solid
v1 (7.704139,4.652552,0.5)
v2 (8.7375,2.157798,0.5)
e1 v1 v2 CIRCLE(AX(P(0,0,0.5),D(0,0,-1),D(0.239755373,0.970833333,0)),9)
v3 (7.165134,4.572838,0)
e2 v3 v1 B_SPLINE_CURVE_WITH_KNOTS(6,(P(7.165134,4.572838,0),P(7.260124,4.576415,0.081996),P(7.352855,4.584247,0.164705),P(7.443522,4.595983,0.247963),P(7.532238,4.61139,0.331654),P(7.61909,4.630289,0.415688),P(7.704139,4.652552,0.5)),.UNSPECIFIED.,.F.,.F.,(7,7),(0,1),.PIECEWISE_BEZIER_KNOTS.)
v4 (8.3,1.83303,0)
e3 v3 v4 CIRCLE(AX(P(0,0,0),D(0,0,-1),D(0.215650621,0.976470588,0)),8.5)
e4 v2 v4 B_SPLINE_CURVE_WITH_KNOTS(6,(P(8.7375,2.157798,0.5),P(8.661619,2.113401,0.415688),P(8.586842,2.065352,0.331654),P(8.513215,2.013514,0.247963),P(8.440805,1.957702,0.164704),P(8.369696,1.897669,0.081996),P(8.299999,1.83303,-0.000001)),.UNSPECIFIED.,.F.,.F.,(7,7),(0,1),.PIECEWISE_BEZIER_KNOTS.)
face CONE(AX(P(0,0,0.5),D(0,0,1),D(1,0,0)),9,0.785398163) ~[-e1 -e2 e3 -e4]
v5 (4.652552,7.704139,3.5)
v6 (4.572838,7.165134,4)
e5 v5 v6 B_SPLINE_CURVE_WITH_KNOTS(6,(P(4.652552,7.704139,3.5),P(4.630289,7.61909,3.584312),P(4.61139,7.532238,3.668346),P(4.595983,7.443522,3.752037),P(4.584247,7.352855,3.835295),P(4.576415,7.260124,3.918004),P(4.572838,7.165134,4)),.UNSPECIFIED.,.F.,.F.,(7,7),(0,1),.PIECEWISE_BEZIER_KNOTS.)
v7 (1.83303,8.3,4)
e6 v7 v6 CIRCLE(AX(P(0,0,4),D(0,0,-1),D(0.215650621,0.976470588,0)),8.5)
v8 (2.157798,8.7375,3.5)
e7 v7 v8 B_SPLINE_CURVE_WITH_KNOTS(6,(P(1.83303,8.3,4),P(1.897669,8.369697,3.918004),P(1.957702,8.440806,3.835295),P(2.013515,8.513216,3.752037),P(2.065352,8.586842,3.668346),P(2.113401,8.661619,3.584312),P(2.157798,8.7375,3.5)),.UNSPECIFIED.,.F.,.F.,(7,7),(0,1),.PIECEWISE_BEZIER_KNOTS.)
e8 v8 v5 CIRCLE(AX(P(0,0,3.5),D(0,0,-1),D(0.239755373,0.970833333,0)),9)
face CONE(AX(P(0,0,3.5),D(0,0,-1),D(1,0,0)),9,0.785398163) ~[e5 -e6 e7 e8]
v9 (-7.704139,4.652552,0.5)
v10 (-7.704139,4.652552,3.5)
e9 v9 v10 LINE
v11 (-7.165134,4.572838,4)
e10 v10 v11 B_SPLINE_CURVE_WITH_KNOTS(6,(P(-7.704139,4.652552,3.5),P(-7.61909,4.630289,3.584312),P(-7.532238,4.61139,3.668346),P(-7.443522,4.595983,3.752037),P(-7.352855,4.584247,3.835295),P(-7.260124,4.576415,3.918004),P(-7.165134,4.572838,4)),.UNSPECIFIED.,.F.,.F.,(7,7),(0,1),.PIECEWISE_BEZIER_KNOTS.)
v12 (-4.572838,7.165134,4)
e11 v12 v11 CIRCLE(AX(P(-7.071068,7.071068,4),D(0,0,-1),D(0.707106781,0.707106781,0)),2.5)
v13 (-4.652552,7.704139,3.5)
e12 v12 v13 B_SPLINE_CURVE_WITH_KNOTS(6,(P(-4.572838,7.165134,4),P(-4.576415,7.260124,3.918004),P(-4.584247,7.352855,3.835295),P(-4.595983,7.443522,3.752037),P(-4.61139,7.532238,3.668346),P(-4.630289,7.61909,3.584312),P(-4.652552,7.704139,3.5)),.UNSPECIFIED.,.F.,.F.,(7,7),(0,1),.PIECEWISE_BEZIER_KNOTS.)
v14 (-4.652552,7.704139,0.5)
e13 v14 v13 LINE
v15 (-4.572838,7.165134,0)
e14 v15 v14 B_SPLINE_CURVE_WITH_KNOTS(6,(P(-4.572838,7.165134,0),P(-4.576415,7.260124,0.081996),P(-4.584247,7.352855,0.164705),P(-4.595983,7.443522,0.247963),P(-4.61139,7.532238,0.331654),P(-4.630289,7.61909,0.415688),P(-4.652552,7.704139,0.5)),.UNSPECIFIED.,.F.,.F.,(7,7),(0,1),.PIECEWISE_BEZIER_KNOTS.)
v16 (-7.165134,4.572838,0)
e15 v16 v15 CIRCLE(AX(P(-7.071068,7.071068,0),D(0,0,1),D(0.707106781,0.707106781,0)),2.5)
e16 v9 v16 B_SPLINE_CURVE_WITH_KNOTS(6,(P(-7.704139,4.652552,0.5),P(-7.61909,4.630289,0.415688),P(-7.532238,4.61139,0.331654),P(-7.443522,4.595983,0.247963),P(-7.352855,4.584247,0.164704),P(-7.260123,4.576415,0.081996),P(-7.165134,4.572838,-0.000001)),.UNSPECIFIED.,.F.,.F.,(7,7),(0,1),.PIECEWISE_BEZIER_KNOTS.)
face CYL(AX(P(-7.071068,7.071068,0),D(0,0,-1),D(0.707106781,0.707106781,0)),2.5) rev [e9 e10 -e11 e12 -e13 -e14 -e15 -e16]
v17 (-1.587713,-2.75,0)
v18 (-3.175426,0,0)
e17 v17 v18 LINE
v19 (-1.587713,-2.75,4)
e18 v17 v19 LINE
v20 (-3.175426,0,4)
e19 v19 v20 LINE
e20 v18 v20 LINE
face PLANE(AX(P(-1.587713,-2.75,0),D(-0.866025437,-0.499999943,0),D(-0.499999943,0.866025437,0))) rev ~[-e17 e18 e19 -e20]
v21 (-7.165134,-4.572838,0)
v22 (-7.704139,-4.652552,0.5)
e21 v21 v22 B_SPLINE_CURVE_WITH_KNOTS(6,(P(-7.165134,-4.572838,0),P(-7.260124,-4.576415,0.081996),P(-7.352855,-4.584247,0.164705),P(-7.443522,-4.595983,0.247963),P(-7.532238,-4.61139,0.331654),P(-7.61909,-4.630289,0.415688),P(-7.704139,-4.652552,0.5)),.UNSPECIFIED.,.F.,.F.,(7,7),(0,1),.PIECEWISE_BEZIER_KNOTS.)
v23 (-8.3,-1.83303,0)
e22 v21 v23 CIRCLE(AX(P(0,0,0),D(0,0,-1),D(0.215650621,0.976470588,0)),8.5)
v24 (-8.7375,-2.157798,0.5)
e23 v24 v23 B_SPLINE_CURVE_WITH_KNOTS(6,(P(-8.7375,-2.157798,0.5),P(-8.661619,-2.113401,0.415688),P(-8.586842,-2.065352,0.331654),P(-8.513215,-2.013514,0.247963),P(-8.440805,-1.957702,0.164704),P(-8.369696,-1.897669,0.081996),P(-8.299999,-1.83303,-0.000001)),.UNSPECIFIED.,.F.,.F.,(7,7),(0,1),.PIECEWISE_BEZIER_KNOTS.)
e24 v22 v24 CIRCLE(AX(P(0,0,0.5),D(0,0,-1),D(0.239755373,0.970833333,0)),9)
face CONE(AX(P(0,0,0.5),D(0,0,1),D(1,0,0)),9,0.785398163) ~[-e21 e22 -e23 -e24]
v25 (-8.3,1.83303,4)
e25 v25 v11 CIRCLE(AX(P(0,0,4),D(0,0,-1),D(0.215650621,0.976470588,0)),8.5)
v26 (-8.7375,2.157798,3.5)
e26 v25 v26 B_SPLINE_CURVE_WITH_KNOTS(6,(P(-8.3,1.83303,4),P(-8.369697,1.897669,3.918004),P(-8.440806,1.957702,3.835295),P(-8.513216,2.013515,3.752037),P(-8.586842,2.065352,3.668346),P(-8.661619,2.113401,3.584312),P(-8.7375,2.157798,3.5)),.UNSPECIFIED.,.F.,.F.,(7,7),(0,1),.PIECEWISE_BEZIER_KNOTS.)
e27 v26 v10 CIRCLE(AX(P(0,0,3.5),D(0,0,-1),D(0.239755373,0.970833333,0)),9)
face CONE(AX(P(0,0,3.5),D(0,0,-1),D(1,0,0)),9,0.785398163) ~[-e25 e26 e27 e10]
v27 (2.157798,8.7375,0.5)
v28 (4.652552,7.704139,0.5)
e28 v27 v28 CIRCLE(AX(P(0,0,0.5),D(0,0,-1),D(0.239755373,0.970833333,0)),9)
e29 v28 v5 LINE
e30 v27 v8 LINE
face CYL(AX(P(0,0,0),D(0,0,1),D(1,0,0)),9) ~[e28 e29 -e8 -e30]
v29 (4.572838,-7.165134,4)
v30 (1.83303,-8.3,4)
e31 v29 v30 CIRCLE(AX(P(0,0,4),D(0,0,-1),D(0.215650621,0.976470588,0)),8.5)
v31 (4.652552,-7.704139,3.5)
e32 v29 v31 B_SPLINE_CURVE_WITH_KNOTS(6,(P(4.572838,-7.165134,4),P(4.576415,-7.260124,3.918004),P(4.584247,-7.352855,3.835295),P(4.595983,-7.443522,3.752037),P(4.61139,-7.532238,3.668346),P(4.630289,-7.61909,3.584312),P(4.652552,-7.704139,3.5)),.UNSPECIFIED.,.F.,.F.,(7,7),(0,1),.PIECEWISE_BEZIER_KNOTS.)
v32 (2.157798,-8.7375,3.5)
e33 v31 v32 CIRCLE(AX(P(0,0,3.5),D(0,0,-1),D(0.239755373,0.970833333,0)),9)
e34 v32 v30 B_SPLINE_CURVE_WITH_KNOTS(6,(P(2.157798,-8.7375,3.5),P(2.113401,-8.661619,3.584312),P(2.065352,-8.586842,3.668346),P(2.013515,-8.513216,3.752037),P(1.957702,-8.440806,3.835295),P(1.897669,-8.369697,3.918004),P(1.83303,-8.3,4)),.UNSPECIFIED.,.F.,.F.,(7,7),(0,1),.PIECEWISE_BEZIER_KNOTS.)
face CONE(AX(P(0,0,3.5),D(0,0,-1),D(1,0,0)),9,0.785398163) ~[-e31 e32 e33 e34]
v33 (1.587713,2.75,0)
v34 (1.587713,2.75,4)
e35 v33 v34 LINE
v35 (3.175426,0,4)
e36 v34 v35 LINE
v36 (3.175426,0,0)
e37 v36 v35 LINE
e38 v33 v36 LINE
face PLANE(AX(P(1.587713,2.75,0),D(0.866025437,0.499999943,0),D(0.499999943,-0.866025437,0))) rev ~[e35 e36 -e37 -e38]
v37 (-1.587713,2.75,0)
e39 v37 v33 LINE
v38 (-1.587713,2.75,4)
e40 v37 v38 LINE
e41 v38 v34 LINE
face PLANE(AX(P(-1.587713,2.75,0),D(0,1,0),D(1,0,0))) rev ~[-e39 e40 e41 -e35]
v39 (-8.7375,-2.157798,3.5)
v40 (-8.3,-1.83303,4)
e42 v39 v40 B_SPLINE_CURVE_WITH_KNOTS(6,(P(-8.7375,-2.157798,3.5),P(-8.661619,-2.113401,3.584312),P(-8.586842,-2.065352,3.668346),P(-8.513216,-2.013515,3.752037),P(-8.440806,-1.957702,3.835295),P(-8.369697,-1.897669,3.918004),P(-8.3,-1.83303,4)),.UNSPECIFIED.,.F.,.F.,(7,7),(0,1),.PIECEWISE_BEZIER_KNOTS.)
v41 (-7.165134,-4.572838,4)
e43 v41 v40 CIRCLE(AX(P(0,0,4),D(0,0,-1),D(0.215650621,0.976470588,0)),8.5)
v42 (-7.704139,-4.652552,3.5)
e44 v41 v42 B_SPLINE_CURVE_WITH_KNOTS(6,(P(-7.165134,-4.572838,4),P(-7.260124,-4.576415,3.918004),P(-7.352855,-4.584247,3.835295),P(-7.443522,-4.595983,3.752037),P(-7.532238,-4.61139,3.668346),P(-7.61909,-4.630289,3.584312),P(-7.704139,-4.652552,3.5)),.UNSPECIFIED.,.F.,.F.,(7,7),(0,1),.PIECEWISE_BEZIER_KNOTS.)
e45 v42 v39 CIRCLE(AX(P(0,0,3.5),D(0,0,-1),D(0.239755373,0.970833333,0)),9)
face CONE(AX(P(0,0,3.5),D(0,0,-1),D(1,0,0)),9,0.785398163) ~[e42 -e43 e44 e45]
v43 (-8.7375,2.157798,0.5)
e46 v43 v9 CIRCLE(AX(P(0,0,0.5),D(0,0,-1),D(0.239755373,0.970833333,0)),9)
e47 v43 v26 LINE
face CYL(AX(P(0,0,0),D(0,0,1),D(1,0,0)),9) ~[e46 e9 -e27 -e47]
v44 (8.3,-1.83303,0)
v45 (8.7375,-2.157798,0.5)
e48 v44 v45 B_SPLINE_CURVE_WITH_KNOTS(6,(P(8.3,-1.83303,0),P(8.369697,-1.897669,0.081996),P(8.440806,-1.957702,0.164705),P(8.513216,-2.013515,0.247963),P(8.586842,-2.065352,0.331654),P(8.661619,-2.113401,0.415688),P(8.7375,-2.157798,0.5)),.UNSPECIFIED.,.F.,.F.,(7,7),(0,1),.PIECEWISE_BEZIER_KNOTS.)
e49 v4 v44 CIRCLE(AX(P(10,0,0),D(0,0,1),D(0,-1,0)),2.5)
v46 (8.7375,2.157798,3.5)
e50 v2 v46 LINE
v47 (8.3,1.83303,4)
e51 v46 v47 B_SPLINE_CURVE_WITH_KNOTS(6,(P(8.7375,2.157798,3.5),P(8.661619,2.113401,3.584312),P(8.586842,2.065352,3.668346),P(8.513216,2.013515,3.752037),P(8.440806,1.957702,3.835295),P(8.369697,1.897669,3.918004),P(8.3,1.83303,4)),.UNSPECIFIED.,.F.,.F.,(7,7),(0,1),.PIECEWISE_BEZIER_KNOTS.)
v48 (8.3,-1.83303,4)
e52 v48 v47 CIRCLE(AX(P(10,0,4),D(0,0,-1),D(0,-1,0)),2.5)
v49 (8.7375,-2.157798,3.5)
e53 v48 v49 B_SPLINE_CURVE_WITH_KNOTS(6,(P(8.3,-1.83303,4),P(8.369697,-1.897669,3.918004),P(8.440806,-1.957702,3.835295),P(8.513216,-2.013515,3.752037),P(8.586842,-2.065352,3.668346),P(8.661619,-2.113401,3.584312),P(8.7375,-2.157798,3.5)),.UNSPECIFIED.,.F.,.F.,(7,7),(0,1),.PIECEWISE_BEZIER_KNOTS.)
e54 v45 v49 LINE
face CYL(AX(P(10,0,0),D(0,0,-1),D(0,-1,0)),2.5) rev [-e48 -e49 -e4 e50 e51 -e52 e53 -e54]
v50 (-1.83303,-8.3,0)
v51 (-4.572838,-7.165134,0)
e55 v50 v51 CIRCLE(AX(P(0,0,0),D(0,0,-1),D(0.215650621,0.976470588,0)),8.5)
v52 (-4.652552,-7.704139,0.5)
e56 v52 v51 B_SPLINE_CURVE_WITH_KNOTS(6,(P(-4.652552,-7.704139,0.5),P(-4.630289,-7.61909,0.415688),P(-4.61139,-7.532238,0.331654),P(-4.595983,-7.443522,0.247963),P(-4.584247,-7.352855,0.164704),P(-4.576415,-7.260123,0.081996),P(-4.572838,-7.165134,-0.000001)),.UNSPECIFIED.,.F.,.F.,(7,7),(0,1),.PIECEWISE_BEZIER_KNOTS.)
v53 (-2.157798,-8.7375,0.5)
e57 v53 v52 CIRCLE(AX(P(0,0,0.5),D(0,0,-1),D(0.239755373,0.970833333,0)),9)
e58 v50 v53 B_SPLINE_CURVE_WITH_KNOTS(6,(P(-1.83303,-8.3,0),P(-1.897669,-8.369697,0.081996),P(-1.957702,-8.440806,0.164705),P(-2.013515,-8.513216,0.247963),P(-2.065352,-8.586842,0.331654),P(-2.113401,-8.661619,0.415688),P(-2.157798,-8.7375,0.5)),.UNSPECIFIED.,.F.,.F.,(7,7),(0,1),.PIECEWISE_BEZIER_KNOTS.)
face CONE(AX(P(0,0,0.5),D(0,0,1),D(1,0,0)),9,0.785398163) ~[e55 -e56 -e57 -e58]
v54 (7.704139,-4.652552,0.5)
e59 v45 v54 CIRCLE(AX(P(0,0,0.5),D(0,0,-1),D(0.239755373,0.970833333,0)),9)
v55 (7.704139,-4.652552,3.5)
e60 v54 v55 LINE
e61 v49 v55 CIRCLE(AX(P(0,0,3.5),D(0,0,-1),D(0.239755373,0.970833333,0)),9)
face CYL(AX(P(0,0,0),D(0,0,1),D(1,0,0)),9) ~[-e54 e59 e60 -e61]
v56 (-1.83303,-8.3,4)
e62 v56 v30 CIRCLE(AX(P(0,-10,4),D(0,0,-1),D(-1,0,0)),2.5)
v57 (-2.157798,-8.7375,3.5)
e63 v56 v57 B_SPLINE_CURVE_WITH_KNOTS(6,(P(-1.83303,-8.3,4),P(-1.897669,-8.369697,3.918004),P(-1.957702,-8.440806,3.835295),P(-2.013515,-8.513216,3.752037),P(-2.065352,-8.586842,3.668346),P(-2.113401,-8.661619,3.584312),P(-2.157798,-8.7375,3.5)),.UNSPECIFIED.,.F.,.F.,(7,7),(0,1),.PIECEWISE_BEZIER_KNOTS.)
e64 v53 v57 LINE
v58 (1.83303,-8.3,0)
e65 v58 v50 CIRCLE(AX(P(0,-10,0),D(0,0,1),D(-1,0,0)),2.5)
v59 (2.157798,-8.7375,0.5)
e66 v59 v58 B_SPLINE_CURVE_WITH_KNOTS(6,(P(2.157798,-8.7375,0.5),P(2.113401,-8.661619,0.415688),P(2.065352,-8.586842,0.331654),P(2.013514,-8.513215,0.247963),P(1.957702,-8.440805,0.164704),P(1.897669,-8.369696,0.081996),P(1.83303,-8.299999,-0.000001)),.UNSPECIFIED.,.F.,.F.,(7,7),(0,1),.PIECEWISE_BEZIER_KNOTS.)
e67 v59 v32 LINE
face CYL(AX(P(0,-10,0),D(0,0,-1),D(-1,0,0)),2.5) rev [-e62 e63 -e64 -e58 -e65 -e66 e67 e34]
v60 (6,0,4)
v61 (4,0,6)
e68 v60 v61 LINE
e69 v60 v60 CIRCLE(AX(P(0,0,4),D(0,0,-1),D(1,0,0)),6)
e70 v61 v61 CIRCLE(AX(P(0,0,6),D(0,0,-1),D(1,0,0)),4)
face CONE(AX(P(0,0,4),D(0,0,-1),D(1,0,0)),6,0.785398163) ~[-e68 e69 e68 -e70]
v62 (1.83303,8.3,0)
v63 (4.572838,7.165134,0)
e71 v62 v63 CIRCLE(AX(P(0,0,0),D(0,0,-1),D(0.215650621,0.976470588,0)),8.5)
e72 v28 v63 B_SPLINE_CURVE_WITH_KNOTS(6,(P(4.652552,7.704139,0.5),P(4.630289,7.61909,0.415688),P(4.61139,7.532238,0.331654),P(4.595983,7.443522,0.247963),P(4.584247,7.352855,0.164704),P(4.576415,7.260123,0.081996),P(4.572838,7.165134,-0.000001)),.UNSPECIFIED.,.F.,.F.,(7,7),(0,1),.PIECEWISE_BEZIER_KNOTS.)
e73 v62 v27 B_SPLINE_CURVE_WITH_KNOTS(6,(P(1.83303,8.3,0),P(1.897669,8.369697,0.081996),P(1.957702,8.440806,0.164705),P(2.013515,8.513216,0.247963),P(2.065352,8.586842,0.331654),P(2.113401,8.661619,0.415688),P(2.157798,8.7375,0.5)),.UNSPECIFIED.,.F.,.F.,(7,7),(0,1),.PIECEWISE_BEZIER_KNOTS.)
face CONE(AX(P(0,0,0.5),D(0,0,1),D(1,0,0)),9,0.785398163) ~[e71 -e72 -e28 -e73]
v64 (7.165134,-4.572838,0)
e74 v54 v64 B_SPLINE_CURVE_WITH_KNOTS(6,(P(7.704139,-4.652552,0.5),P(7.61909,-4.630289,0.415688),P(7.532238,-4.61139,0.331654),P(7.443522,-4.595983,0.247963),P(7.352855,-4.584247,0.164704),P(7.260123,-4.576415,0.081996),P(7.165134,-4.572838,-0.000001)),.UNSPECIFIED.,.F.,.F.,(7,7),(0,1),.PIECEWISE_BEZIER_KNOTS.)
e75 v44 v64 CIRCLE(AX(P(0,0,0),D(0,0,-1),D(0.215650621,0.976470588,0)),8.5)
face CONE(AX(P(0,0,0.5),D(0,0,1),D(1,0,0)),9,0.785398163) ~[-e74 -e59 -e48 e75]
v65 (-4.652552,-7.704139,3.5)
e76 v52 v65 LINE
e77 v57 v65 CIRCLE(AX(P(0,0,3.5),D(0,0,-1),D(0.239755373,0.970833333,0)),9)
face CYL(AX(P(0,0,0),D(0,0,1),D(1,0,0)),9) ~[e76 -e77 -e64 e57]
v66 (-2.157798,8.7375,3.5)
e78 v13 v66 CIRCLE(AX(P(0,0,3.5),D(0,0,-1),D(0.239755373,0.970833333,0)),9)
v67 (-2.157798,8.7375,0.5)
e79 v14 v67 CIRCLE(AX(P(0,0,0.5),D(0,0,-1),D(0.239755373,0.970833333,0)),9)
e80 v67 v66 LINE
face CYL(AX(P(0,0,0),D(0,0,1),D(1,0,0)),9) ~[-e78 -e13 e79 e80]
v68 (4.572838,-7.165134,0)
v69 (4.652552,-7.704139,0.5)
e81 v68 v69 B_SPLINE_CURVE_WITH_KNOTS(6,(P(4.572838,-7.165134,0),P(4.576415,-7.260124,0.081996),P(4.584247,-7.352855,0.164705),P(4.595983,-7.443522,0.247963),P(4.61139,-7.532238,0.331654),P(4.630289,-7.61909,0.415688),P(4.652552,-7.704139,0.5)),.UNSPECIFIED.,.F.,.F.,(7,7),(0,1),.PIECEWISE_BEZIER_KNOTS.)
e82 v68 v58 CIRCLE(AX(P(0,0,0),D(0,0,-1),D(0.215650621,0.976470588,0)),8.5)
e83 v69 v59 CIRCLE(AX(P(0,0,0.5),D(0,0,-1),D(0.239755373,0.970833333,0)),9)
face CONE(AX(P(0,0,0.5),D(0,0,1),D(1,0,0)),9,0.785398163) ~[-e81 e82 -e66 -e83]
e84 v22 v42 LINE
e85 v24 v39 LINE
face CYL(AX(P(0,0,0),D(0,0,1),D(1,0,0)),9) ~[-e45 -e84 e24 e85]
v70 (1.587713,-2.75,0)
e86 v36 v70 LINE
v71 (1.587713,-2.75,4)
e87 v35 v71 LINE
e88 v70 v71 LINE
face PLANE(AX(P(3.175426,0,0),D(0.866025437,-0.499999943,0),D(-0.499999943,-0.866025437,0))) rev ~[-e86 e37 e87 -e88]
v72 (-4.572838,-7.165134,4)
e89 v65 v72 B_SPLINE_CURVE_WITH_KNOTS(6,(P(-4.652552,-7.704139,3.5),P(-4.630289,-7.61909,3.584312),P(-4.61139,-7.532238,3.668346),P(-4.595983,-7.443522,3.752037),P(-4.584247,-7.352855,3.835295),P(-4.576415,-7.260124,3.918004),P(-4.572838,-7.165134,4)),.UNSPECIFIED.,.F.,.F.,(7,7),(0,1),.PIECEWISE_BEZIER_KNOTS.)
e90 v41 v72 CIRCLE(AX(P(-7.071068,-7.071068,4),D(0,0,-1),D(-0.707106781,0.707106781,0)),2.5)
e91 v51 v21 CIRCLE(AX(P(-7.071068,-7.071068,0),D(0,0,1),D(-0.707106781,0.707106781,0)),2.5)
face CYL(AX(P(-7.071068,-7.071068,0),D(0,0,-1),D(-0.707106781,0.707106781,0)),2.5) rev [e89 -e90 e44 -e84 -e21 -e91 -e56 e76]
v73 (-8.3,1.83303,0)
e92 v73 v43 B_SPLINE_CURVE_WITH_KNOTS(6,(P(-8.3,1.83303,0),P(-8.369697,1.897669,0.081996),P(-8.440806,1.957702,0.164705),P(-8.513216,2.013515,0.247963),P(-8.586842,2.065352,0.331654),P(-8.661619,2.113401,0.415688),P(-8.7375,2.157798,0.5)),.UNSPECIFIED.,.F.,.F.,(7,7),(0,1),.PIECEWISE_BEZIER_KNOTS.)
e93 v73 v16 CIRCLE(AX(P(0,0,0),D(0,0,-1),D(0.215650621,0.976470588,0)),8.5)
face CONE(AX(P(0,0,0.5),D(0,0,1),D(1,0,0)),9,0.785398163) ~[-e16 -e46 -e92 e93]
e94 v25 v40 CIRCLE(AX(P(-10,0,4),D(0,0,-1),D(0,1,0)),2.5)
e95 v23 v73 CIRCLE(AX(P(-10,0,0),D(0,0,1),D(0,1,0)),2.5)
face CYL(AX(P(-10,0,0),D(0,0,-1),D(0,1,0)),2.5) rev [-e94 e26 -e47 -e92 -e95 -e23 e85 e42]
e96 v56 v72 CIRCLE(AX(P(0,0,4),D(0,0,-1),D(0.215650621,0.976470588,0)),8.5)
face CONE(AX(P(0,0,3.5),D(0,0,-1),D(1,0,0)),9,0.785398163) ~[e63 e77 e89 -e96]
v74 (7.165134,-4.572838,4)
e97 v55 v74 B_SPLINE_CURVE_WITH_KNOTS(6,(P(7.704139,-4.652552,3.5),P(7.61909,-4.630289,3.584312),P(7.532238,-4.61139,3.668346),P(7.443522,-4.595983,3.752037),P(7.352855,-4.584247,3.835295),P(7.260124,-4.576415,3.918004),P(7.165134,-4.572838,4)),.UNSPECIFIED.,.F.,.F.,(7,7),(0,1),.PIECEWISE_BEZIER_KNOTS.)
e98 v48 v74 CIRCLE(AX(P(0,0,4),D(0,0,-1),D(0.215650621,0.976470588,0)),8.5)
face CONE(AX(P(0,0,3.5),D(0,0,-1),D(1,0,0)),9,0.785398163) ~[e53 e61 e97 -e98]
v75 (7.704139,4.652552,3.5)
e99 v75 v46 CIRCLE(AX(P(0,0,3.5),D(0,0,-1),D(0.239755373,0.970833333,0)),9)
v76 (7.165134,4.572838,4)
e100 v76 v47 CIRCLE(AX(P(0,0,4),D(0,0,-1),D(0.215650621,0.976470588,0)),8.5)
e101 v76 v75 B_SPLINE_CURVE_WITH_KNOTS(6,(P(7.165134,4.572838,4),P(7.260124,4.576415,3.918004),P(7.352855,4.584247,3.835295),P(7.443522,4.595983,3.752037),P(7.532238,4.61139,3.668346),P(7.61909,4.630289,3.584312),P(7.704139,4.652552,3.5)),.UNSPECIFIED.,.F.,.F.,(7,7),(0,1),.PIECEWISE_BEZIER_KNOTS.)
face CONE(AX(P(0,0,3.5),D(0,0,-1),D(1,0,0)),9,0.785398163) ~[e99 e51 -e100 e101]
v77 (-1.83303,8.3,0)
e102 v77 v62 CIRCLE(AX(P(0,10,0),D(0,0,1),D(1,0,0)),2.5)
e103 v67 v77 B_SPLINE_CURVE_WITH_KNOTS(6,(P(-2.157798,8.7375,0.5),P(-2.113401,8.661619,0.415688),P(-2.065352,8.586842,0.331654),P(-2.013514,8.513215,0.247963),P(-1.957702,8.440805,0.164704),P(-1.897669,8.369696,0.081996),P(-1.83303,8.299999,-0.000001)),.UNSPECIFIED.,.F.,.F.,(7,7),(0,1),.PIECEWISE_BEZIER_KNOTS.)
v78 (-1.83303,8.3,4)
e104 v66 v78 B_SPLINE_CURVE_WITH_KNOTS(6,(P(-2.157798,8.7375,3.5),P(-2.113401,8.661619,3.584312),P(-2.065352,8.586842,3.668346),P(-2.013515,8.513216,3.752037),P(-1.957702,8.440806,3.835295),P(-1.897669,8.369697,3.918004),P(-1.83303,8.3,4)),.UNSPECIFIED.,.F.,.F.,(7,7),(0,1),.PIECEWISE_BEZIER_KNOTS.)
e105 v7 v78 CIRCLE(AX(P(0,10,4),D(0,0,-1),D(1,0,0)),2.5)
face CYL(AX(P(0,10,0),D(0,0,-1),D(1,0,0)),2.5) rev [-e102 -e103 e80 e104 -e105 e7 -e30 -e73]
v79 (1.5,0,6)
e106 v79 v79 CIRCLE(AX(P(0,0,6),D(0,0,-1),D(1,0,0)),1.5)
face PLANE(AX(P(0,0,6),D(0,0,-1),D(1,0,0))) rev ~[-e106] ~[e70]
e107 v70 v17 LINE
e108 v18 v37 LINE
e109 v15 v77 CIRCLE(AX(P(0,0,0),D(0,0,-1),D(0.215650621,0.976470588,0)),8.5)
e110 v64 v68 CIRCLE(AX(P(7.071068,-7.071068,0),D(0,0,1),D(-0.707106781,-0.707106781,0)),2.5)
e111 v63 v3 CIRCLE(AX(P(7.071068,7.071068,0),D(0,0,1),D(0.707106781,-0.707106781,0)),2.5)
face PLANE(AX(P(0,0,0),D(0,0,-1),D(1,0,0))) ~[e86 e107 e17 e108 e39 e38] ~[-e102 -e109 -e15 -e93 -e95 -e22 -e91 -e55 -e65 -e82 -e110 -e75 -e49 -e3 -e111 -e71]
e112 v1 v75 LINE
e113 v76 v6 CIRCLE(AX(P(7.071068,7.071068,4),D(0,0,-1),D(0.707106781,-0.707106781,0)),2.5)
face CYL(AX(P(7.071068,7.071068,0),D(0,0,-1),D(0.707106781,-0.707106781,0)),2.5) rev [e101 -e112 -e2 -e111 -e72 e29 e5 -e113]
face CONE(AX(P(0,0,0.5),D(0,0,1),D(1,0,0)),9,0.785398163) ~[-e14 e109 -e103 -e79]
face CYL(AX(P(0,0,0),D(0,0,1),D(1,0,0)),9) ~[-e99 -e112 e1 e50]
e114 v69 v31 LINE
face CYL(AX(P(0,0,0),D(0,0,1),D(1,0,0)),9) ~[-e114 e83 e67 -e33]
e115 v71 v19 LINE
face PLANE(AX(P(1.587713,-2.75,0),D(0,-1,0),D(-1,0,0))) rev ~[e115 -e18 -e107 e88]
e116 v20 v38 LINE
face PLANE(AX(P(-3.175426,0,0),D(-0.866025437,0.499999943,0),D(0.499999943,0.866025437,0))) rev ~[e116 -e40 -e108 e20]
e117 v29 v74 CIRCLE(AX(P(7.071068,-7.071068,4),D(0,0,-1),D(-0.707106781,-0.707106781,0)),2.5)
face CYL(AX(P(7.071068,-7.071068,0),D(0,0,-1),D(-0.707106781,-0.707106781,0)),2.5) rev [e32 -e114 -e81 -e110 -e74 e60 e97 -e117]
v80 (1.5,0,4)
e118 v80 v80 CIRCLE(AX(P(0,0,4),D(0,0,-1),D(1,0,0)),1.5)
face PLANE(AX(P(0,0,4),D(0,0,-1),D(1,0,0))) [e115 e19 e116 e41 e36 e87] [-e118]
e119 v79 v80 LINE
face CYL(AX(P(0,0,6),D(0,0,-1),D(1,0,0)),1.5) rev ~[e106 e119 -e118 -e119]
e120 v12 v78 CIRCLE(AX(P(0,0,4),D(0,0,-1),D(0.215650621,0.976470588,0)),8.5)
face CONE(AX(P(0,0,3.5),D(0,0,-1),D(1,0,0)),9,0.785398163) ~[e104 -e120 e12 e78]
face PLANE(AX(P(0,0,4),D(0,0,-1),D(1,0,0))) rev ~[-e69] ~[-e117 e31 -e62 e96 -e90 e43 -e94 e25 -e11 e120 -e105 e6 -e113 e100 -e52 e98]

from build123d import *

# Parameters (mm, degrees)
F3_SIZE  = 0.5
F2_R     = 2.5
F4_DEPTH = 6
F5_COUNT = 8
F8_DEPTH = 4


with BuildPart() as f1:
    # F0 (on Front) → F1 (revolve)
    with BuildSketch(Plane.XZ):
        Polygon((1.5, 6), (1.5, 0), (9, 0), (9, 4), (6, 4), (4, 6), align=None)
    revolve(axis=Axis((0, 0, 3.871229), (0, 0, -1)))

    # F3
    f3_edges = [f1.edges().sort_by_distance(p)[0] for p in [
        (-9, 0, 4),
        (-9, 0, 0),
    ]]
    chamfer(f3_edges, length=F3_SIZE)


with BuildPart() as f4:
    # F2 (on Top) → F4 (new body, through all)
    with BuildSketch(Plane.XY):
        with Locations((0, 10)):
            Circle(F2_R)
    extrude(amount=F4_DEPTH)


with BuildPart() as f5_1:
    # F5: instance of F4
    add(f4.part.rotate(Axis((0, 0, 6), (0, 0, -1)), 1 * 360 / F5_COUNT))


with BuildPart() as f5_2:
    # F5: instance of F4
    add(f4.part.rotate(Axis((0, 0, 6), (0, 0, -1)), 2 * 360 / F5_COUNT))


with BuildPart() as f5_3:
    # F5: instance of F4
    add(f4.part.rotate(Axis((0, 0, 6), (0, 0, -1)), 3 * 360 / F5_COUNT))


with BuildPart() as f5_4:
    # F5: instance of F4
    add(f4.part.rotate(Axis((0, 0, 6), (0, 0, -1)), 4 * 360 / F5_COUNT))


with BuildPart() as f5_5:
    # F5: instance of F4
    add(f4.part.rotate(Axis((0, 0, 6), (0, 0, -1)), 5 * 360 / F5_COUNT))


with BuildPart() as f5_6:
    # F5: instance of F4
    add(f4.part.rotate(Axis((0, 0, 6), (0, 0, -1)), 6 * 360 / F5_COUNT))


with BuildPart() as f5_7:
    # F5: instance of F4
    add(f4.part.rotate(Axis((0, 0, 6), (0, 0, -1)), 7 * 360 / F5_COUNT))


with BuildPart() as f1_1:
    add(f1.part)

    # F6: cut F4, F5_1, F5_2, F5_3, F5_4, F5_5, F5_6, F5_7
    add(f4.part, mode=Mode.SUBTRACT)
    add(f5_1.part, mode=Mode.SUBTRACT)
    add(f5_2.part, mode=Mode.SUBTRACT)
    add(f5_3.part, mode=Mode.SUBTRACT)
    add(f5_4.part, mode=Mode.SUBTRACT)
    add(f5_5.part, mode=Mode.SUBTRACT)
    add(f5_6.part, mode=Mode.SUBTRACT)
    add(f5_7.part, mode=Mode.SUBTRACT)

    # F7 (on face) → F8 (cut)
    with BuildSketch(Plane(origin=(0, 0, 0), x_dir=(1, 0, 0), z_dir=(0, 0, -1))):
        Polygon((-1.587713, 2.75), (-3.175426, 0), (-1.587713, -2.75), (1.587713, -2.75), (3.175426, 0), (1.587713, 2.75), align=None)
    extrude(amount=-F8_DEPTH, mode=Mode.SUBTRACT)


solid = f1_1.part
